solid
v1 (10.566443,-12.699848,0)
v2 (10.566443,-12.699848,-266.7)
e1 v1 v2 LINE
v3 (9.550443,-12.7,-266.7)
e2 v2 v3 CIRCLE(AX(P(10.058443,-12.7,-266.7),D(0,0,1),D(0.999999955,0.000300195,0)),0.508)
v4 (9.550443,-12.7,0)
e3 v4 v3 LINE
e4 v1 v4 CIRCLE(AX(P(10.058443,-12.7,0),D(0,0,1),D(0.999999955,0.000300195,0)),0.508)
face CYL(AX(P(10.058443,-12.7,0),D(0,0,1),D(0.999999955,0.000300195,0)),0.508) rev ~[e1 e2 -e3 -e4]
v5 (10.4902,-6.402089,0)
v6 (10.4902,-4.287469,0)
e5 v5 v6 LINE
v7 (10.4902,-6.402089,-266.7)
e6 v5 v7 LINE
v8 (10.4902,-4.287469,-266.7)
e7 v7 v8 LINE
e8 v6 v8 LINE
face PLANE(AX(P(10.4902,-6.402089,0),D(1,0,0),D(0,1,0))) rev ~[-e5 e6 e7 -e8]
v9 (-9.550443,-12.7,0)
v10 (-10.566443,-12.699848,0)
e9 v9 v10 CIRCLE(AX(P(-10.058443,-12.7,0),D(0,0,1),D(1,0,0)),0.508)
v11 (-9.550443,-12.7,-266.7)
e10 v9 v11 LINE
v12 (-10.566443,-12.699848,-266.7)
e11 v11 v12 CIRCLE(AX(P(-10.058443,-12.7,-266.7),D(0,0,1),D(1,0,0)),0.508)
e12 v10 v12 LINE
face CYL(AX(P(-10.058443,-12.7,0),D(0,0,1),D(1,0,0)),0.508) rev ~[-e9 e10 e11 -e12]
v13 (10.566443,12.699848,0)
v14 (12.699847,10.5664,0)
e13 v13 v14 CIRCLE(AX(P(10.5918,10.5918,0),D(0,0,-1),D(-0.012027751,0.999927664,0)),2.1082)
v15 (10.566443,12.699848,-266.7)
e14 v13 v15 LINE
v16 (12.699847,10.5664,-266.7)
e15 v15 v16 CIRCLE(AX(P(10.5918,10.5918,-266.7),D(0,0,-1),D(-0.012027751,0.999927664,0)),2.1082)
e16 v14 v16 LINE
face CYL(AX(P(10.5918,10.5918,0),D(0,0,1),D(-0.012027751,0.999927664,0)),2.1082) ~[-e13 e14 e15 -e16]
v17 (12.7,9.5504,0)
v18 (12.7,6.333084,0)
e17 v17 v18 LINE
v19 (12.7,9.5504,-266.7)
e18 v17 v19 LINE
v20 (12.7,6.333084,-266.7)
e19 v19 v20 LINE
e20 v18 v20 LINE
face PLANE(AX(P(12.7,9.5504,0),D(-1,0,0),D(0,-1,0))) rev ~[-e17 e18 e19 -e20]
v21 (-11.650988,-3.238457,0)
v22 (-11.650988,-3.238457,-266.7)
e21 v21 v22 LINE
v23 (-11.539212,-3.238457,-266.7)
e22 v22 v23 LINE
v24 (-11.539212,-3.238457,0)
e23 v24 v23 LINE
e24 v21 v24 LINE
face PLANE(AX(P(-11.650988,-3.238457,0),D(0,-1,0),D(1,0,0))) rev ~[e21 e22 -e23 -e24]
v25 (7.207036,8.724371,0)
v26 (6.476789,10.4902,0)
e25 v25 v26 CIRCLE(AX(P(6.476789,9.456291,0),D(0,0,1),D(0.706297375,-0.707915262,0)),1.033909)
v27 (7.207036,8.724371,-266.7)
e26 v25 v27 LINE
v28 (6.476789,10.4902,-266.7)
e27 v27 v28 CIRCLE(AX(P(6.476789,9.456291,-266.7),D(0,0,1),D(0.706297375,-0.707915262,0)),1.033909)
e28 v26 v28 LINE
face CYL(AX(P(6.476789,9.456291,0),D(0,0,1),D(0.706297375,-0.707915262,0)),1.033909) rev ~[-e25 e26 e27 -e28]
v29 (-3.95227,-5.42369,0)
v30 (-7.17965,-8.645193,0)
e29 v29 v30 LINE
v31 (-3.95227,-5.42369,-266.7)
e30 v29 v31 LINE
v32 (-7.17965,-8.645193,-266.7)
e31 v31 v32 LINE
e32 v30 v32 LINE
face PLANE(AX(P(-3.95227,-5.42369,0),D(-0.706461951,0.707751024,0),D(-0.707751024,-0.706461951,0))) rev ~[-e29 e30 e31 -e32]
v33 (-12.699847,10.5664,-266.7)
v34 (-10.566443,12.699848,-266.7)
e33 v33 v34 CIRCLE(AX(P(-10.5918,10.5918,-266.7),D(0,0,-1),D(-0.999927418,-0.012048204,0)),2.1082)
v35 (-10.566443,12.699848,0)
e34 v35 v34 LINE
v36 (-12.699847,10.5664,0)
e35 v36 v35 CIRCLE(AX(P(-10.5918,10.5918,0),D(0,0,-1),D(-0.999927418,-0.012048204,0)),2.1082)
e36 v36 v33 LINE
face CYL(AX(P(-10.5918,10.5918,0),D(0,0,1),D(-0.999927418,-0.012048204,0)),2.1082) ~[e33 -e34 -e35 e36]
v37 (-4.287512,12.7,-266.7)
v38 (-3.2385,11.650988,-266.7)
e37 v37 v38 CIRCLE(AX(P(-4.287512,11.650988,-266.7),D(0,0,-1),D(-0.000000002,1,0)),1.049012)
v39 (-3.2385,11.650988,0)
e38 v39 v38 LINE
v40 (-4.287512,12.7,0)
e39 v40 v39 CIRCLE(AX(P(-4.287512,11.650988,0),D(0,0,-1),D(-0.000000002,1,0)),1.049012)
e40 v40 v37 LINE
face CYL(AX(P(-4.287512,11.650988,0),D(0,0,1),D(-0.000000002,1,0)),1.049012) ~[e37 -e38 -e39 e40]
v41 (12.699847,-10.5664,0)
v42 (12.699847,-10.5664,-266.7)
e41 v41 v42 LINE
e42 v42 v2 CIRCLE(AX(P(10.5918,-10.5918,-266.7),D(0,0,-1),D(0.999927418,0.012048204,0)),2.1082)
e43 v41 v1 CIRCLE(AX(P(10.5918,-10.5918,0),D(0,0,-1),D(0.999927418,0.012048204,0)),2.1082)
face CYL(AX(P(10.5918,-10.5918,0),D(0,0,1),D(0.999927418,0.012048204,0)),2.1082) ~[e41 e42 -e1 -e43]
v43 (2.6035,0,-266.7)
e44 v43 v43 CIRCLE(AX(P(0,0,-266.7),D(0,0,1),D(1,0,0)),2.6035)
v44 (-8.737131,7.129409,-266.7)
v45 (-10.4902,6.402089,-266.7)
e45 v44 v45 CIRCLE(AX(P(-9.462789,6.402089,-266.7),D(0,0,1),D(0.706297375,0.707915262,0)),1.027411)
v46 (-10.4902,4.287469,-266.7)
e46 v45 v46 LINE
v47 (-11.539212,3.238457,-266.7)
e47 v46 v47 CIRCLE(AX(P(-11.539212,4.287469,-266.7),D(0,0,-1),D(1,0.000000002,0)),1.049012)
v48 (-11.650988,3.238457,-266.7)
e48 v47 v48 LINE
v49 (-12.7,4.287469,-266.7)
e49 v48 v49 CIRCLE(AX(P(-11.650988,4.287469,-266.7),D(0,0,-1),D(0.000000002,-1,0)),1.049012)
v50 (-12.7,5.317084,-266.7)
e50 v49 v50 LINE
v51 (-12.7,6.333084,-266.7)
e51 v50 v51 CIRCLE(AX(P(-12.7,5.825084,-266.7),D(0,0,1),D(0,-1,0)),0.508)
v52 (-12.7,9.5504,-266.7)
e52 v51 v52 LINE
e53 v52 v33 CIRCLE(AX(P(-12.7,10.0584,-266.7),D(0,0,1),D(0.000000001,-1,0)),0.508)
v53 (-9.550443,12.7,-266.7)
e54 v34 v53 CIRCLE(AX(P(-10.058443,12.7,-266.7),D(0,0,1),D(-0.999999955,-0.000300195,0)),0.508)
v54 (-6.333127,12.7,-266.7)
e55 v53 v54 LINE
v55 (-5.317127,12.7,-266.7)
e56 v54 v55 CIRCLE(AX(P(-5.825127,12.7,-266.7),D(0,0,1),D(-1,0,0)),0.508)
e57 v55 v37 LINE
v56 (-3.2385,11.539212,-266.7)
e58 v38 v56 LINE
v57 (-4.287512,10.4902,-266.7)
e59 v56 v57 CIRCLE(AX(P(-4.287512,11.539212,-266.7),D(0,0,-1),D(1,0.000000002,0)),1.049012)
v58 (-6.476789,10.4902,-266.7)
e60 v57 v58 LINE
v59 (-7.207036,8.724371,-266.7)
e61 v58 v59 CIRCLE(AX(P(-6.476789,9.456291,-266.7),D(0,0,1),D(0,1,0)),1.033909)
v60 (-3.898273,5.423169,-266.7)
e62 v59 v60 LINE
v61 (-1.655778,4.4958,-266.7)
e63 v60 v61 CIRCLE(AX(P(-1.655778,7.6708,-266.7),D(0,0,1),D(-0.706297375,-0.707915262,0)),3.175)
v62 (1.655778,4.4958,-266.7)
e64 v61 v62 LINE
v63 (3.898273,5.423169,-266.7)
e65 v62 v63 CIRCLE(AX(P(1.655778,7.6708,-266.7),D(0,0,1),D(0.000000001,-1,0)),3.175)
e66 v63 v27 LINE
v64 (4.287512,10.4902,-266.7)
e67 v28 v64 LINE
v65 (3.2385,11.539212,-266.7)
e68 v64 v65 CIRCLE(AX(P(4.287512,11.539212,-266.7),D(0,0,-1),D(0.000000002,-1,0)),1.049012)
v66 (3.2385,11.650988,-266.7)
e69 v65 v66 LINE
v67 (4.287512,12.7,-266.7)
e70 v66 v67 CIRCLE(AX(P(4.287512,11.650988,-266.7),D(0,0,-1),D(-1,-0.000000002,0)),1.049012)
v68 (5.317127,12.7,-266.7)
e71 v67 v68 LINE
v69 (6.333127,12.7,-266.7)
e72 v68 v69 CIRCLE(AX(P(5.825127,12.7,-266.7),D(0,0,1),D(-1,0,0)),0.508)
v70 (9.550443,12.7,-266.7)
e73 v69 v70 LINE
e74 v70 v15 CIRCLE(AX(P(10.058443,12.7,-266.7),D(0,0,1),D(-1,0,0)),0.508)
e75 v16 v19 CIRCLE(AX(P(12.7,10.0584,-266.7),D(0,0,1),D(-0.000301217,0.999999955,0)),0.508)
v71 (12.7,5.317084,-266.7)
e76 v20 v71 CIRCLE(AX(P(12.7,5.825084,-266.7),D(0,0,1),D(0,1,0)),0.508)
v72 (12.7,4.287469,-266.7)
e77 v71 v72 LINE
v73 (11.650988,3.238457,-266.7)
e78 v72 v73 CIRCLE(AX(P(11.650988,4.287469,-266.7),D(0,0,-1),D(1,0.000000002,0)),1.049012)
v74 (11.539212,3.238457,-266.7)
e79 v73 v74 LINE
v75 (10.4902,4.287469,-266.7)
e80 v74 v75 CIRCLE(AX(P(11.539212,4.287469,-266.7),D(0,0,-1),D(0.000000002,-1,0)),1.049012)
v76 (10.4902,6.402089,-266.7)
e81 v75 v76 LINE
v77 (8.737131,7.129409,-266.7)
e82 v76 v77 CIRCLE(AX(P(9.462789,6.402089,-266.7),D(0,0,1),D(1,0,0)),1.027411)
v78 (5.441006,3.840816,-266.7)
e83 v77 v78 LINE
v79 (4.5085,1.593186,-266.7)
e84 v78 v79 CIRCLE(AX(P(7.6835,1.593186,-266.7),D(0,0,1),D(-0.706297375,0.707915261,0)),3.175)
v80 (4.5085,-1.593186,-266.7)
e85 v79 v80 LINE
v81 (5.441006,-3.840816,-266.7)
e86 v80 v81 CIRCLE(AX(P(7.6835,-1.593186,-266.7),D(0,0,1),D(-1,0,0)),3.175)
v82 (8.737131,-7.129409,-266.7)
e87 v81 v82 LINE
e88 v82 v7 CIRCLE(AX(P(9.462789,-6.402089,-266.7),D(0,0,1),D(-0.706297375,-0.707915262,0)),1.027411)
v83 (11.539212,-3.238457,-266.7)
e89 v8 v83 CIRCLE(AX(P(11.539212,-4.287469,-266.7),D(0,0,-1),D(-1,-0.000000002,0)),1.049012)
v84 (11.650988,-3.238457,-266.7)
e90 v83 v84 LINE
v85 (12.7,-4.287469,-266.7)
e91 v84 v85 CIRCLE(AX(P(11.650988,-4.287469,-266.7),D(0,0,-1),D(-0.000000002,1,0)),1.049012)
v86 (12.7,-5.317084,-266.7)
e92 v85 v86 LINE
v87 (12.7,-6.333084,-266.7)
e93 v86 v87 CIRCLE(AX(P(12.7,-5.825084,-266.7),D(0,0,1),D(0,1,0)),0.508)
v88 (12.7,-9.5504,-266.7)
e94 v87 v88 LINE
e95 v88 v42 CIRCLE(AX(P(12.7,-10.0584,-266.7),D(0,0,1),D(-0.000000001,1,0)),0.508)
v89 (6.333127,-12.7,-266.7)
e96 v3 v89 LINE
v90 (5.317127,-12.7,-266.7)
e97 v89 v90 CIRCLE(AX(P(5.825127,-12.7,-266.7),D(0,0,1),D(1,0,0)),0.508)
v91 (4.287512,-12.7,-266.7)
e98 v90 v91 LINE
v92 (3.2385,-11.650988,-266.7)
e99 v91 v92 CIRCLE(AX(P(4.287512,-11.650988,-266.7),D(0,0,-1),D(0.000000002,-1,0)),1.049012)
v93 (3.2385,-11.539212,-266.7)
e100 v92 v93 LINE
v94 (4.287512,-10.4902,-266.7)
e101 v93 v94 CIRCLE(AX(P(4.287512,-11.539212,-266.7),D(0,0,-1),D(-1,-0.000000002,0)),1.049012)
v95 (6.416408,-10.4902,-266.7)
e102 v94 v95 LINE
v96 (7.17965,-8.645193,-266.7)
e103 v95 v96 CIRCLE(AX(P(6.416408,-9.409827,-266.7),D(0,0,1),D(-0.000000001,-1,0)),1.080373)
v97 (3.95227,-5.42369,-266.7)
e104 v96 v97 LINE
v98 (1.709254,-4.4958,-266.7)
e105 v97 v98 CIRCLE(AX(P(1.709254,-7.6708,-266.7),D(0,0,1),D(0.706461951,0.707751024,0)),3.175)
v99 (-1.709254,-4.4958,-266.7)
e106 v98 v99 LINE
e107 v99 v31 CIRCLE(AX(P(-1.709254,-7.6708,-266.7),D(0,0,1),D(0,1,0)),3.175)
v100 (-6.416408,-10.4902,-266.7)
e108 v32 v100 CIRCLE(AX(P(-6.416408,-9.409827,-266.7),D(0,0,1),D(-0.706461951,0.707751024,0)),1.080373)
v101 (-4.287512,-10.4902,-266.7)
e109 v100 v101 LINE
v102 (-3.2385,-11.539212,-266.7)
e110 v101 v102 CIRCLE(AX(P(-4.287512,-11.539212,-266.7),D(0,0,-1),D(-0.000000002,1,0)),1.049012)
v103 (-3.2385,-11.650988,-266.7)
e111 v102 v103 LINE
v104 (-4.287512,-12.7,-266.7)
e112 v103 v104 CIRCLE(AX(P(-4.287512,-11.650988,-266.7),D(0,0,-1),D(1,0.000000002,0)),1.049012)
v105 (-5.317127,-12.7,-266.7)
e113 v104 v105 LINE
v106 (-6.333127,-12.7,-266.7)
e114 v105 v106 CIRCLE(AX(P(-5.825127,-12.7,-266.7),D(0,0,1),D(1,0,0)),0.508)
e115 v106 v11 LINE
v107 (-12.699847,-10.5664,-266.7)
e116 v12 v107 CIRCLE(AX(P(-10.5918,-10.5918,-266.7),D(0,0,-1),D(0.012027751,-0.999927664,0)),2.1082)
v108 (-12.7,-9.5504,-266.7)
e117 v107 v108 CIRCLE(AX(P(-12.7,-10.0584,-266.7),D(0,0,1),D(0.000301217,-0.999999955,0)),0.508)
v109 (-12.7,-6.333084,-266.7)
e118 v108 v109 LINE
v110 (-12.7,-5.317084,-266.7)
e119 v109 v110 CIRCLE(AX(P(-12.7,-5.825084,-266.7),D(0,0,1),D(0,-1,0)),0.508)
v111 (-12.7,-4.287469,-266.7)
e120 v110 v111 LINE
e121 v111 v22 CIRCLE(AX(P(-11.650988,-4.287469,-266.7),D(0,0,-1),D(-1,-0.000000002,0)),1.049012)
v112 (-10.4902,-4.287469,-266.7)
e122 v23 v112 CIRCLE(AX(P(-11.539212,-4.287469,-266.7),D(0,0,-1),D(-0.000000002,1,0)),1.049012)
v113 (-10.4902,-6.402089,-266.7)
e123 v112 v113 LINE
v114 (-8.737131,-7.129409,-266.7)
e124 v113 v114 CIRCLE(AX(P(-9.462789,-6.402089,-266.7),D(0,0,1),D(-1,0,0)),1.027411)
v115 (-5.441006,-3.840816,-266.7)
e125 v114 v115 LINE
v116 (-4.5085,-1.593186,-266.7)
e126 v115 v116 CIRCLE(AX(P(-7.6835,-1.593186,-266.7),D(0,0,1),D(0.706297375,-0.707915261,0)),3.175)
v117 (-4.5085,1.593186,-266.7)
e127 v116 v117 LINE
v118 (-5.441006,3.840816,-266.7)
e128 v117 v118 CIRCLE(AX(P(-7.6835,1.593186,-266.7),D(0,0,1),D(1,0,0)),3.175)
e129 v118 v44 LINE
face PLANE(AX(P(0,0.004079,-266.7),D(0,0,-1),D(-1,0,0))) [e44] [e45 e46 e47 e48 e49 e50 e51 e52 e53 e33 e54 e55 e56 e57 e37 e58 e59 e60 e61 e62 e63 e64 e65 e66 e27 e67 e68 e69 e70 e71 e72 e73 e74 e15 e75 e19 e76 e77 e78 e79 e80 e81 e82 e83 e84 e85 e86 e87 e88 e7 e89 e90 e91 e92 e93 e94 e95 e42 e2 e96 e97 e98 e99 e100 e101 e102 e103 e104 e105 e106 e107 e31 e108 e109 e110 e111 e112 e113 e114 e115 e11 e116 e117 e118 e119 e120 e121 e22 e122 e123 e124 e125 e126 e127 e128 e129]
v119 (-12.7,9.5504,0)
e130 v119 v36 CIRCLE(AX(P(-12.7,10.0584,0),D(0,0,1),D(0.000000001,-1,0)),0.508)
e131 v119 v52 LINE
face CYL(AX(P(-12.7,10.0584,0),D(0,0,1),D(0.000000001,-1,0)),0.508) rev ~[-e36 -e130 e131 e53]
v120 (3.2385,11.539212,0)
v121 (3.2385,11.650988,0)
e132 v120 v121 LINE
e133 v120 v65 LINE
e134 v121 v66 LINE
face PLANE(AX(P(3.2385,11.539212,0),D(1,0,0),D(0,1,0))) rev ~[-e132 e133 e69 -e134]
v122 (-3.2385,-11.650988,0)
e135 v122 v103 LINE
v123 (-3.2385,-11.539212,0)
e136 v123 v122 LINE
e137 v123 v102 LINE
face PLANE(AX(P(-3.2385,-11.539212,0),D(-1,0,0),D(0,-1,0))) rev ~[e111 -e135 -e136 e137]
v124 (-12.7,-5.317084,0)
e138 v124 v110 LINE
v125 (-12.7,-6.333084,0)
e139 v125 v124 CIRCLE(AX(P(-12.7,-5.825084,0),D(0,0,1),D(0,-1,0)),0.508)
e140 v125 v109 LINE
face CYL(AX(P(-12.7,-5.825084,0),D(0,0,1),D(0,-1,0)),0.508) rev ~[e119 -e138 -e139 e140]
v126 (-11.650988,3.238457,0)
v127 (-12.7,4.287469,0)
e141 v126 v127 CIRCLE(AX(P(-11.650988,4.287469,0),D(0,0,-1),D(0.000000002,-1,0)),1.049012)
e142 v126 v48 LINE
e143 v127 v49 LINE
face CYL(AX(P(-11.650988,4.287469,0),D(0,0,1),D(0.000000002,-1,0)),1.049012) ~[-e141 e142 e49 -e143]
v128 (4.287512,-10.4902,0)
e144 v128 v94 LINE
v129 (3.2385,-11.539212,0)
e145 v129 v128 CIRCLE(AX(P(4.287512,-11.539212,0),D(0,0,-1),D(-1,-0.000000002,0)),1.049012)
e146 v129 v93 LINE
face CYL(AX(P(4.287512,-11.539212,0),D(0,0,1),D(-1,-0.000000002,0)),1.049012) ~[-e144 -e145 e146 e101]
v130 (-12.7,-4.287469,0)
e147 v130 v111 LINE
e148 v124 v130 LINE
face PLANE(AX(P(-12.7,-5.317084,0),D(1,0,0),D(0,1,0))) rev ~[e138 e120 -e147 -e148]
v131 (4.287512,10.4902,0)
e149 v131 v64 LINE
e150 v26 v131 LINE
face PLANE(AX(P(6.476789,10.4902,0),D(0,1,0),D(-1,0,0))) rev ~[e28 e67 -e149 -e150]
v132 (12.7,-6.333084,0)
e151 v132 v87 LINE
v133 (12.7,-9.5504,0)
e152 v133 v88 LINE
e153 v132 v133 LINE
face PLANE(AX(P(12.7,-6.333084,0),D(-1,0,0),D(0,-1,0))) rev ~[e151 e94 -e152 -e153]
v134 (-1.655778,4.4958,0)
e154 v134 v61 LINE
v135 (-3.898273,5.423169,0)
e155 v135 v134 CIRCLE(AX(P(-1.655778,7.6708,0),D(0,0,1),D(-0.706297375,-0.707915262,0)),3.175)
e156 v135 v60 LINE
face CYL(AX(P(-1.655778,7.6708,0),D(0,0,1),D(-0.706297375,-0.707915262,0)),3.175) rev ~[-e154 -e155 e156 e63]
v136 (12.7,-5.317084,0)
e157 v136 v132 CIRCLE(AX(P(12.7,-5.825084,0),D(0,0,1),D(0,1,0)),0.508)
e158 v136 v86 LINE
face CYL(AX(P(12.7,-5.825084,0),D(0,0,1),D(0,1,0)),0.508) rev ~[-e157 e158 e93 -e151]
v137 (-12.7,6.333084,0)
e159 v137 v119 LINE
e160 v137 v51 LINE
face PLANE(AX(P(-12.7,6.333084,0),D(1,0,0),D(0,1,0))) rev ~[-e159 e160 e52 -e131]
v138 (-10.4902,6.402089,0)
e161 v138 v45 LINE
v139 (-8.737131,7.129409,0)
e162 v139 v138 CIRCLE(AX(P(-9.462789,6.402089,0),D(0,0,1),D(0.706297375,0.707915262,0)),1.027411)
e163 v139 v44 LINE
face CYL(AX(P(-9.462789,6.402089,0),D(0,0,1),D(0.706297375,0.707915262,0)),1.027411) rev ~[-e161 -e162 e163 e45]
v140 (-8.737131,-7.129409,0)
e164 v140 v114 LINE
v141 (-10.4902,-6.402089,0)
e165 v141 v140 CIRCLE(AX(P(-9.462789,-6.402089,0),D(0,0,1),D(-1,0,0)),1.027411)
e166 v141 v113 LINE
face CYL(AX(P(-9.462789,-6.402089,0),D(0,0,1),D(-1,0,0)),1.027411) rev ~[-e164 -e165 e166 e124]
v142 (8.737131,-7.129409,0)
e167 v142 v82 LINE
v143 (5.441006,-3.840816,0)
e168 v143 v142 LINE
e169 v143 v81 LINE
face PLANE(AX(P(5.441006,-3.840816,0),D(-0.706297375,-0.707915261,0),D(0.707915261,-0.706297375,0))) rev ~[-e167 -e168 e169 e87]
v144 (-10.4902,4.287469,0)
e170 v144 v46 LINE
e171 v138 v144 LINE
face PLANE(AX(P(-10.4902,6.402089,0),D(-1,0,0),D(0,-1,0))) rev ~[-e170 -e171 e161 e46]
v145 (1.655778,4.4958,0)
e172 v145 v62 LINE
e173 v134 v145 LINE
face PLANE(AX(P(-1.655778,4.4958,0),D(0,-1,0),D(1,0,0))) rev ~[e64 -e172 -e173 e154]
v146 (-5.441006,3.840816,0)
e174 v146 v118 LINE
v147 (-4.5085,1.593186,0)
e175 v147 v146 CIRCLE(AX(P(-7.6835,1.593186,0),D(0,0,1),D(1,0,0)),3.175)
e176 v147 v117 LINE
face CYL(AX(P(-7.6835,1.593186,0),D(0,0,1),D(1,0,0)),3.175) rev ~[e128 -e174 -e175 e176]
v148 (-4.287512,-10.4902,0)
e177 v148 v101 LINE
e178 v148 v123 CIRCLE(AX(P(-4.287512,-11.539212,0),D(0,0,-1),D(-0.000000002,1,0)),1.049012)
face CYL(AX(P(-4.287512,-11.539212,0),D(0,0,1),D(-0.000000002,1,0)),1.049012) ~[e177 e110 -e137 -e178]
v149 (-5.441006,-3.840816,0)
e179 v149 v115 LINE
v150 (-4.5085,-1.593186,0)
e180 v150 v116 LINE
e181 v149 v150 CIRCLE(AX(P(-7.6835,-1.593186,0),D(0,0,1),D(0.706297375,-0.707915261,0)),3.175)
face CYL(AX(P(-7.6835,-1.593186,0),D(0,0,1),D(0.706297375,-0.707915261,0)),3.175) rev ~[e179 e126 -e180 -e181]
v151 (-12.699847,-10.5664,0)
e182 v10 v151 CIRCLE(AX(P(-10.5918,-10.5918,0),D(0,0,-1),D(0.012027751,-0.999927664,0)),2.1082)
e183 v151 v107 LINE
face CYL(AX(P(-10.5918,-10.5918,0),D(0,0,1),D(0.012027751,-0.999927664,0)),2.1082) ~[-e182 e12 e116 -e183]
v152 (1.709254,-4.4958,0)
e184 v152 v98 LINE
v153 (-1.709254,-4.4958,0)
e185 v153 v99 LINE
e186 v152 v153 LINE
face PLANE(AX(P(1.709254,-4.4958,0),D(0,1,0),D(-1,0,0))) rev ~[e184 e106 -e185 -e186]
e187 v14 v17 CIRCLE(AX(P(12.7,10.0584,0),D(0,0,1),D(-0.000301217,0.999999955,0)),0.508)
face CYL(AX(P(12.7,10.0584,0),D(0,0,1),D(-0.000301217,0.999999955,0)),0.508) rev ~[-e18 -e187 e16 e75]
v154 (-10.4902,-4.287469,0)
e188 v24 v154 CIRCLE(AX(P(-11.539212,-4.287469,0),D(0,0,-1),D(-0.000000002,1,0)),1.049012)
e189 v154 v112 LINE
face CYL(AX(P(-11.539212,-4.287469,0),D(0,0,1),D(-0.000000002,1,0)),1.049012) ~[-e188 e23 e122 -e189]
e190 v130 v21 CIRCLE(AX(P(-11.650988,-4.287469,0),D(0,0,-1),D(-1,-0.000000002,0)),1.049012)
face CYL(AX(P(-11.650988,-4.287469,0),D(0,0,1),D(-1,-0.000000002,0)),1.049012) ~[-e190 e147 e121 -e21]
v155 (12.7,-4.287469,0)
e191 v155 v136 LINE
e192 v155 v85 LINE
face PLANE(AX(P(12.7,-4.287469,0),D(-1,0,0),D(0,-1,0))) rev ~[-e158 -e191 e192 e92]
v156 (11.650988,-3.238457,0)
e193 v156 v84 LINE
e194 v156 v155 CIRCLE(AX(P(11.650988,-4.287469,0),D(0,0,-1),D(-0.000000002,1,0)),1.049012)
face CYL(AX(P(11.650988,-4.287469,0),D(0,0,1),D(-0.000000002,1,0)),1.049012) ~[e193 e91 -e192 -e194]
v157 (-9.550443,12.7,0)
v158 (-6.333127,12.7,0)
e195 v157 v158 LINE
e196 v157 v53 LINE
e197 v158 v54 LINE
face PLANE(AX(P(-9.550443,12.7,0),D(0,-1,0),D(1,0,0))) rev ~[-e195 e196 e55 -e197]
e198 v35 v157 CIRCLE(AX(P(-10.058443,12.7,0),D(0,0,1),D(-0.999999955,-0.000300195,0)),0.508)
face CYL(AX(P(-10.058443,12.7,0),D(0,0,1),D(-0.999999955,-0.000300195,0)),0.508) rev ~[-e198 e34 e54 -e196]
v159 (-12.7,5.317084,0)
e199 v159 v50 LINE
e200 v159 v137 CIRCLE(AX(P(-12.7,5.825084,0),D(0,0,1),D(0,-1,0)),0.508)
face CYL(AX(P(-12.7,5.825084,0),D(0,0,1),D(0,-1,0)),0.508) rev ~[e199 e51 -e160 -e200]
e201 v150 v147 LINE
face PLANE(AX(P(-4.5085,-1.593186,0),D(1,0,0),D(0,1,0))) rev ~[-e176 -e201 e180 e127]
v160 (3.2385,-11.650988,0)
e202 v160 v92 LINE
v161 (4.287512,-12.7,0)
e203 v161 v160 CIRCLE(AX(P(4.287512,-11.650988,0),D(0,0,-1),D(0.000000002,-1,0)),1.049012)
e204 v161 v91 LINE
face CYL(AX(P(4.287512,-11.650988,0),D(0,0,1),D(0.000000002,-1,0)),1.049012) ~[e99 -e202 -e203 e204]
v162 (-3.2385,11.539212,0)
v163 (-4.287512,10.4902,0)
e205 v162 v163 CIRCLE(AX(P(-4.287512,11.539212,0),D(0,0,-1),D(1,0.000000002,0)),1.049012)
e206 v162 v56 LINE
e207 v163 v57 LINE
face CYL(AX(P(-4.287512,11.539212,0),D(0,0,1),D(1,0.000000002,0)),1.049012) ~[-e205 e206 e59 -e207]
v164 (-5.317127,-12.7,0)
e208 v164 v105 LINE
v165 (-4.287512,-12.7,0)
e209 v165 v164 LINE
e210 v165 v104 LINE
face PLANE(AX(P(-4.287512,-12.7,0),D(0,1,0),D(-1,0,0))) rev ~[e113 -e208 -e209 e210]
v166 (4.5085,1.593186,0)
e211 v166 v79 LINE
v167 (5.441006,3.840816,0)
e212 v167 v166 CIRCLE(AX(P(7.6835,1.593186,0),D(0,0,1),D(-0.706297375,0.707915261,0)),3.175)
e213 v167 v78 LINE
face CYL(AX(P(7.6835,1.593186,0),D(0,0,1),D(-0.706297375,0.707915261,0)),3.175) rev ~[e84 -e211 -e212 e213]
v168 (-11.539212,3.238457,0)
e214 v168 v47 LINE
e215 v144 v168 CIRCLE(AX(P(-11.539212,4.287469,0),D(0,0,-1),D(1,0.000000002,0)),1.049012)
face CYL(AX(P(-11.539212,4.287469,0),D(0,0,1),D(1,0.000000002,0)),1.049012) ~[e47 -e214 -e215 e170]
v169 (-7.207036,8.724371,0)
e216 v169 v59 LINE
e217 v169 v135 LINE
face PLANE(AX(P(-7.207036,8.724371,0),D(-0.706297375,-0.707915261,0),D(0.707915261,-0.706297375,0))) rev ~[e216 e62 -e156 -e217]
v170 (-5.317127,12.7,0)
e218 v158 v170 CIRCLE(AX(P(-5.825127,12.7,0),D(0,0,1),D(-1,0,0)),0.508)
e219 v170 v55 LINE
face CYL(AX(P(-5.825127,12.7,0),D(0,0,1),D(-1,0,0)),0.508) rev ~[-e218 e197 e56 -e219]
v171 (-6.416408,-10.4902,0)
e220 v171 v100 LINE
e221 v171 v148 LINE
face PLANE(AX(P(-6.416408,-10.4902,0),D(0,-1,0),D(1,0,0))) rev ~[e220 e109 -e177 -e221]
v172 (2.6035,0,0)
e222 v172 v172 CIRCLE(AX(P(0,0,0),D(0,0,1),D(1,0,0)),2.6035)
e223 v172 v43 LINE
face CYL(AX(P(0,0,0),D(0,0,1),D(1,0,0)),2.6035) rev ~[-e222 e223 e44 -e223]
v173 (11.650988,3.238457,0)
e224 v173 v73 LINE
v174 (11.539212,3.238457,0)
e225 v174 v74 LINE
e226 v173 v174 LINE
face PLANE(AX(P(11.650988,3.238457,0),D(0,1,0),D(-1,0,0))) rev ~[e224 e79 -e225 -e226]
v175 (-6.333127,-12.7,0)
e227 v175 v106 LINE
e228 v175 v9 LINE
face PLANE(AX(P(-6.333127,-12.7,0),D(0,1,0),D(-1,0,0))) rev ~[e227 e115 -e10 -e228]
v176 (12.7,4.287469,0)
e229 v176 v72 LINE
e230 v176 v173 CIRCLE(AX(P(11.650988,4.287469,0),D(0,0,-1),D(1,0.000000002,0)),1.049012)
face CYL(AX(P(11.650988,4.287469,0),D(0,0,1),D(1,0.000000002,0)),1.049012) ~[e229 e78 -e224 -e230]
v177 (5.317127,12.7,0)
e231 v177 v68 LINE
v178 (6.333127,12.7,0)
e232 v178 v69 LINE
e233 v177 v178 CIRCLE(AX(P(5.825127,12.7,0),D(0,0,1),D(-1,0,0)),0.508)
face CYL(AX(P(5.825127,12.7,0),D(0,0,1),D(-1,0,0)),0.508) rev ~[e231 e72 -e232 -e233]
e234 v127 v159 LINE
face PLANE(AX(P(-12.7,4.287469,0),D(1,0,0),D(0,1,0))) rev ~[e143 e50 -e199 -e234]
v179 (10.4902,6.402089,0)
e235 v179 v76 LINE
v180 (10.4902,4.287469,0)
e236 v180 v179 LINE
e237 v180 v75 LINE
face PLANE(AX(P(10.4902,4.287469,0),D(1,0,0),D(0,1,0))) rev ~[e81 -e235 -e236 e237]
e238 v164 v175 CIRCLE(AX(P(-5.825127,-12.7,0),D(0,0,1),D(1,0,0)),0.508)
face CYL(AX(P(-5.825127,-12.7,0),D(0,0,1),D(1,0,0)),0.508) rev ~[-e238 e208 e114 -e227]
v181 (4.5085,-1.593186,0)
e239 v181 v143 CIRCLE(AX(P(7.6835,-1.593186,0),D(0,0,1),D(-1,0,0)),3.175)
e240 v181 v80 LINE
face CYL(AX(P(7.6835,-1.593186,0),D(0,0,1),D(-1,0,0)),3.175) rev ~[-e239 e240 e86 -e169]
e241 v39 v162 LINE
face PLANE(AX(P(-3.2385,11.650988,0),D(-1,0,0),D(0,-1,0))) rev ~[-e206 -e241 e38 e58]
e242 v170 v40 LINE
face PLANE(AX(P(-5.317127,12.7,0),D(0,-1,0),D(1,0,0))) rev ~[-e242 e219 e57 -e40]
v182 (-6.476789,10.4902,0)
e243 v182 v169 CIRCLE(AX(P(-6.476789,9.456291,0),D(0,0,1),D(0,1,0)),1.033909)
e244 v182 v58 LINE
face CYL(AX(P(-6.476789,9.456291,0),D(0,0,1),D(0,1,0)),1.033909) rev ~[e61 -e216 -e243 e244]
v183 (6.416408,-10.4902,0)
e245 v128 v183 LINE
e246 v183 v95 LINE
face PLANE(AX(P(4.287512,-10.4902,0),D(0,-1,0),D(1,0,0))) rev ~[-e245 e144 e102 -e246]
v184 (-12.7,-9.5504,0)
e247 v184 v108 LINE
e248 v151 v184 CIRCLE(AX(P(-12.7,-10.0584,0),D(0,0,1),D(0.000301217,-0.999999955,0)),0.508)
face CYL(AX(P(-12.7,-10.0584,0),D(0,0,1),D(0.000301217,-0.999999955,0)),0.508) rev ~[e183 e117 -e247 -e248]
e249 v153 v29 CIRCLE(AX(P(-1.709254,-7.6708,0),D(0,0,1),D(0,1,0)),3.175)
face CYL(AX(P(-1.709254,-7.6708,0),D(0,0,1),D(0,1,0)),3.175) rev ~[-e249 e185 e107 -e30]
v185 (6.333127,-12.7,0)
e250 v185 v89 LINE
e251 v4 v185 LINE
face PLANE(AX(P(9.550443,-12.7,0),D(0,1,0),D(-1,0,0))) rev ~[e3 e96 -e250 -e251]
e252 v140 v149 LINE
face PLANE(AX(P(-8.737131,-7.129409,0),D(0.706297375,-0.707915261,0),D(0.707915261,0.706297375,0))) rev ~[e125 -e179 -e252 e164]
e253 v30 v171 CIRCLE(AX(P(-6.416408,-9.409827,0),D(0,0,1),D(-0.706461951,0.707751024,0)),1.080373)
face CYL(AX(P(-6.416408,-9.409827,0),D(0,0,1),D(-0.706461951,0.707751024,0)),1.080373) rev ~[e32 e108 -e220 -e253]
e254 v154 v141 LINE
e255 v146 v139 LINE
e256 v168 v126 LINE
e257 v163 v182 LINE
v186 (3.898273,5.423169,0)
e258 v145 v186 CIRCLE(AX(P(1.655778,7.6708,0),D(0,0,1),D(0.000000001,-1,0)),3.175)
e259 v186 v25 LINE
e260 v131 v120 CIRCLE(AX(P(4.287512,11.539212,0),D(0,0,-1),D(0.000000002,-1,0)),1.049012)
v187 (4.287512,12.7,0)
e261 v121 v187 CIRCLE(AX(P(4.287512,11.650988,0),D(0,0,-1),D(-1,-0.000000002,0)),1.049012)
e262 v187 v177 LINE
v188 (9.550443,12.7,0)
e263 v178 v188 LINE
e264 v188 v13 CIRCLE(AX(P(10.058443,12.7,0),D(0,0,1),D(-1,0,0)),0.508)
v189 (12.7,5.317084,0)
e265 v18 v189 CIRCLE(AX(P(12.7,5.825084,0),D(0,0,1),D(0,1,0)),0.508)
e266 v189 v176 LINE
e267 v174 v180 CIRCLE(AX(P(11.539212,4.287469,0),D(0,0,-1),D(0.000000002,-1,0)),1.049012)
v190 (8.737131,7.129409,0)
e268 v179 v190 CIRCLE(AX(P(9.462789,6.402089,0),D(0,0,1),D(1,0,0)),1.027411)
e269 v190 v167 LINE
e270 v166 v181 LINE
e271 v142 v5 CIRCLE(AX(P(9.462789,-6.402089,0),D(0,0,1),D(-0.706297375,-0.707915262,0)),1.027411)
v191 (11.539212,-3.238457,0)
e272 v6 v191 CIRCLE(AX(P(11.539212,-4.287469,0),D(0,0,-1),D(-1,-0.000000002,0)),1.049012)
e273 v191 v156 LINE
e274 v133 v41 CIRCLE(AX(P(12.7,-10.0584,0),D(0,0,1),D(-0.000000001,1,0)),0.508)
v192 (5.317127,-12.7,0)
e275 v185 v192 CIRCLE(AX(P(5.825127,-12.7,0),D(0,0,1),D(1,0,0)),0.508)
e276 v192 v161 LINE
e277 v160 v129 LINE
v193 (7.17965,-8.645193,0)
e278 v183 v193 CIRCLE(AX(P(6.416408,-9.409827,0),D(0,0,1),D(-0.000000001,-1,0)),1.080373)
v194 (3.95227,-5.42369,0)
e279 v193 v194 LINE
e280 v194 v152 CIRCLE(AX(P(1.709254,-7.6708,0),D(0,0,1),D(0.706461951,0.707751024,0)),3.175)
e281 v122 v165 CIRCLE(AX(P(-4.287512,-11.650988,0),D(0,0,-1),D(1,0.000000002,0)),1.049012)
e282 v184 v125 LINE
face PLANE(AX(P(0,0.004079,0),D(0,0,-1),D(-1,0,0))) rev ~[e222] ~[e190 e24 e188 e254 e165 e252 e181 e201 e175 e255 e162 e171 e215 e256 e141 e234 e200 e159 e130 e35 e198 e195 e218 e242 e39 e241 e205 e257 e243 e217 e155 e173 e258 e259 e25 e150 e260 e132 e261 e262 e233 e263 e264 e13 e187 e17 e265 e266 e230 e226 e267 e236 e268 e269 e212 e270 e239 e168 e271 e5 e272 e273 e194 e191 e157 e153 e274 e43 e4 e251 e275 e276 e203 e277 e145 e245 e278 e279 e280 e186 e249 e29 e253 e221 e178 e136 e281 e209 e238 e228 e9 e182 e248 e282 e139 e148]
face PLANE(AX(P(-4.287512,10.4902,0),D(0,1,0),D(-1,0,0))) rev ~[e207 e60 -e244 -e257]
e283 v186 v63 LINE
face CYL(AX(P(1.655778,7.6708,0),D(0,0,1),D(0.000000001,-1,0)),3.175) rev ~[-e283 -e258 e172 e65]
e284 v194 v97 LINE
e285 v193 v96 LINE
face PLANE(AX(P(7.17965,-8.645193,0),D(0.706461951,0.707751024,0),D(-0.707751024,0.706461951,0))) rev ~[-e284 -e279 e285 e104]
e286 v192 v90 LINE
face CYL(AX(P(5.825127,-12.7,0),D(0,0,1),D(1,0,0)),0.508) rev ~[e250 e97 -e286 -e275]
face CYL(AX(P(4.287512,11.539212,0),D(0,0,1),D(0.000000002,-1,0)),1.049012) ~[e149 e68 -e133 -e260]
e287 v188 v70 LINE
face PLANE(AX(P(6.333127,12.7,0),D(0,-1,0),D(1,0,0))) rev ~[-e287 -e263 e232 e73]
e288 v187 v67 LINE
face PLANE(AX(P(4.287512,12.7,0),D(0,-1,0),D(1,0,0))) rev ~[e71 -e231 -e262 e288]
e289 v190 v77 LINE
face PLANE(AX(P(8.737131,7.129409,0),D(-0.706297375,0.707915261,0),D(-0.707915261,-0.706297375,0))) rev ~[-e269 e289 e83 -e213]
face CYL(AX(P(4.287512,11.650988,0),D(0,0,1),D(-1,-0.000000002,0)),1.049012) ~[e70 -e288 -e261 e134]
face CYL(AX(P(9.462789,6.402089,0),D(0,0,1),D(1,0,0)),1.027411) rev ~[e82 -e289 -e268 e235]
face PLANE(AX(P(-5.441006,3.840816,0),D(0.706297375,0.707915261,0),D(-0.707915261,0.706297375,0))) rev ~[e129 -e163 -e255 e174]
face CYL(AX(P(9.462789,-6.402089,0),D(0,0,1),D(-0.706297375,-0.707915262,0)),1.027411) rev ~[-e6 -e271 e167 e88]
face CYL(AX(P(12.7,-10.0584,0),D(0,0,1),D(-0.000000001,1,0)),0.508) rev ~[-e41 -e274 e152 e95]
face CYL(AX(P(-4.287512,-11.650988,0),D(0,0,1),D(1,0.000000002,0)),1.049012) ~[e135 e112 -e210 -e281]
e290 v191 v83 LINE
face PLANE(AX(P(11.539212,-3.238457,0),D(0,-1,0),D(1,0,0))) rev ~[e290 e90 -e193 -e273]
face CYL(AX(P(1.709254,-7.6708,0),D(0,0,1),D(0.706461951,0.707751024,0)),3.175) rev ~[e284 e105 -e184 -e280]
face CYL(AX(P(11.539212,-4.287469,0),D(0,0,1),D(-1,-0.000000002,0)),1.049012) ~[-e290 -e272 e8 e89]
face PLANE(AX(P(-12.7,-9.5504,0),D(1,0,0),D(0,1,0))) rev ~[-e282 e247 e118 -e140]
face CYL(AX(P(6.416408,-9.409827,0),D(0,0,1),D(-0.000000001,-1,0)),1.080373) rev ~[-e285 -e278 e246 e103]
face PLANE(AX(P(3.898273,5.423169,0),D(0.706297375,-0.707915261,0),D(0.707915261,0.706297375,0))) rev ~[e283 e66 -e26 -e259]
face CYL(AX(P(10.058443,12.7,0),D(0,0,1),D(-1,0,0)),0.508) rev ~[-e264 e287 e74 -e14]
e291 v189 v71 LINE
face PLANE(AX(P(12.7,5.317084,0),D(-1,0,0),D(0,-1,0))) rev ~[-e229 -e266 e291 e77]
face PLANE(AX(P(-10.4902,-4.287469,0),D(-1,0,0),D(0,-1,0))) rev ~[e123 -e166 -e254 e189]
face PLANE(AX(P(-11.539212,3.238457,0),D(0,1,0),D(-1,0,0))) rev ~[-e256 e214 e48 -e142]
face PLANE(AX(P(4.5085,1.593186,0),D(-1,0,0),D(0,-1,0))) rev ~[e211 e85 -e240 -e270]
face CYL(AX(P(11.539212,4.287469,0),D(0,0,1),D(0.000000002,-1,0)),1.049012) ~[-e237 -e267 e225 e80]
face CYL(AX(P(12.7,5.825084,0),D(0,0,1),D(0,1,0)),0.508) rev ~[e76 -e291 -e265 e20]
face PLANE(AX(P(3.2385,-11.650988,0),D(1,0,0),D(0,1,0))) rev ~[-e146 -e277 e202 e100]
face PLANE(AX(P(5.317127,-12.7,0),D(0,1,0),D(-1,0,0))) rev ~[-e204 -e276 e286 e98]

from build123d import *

# Parameters (mm, degrees)
SKETCH1_R      = 2.6035
EXTRUDE1_DEPTH = 266.7


with BuildPart() as part:
    # Sketch1 → Extrude1 (new body)
    with BuildSketch(Plane.XY):
        with BuildLine():
            Line((-7.207036008, 8.724370562), (-3.898272566, 5.423169045))
            ThreePointArc((-3.898272566, 5.423169045), (-2.869120213, 4.736787962), (-1.655778399, 4.4958))
            Line((-1.655778399, 4.4958), (1.655778399, 4.4958))
            ThreePointArc((1.655778399, 4.4958), (2.869120213, 4.736787962), (3.898272566, 5.423169045))
            Line((3.898272566, 5.423169045), (7.207036008, 8.724370562))
            ThreePointArc((7.207036008, 8.724370562), (7.432222385, 9.85140422), (6.476788598, 10.4902))
            Line((6.476788598, 10.4902), (4.287512407, 10.4902))
            ThreePointArc((4.287512407, 10.4902), (3.54574862, 10.79744862), (3.2385, 11.539212407))
            Line((3.2385, 11.539212407), (3.2385, 11.650987593))
            ThreePointArc((3.2385, 11.650987593), (3.54574862, 12.39275138), (4.287512407, 12.7))
            Line((4.287512407, 12.7), (5.317126718, 12.7))
            ThreePointArc((5.317126718, 12.7), (5.825126718, 12.192), (6.333126718, 12.7))
            Line((6.333126718, 12.7), (9.550443118, 12.7))
            ThreePointArc((9.550443118, 12.7), (10.058366869, 12.192000006), (10.566443095, 12.699847501))
            ThreePointArc((10.566443095, 12.699847501), (12.082537762, 12.08250727), (12.699846982, 10.566399977))
            ThreePointArc((12.699846982, 10.566399977), (12.192000006, 10.058323491), (12.7, 9.5504))
            Line((12.7, 9.5504), (12.7, 6.3330836))
            ThreePointArc((12.7, 6.3330836), (12.192, 5.8250836), (12.7, 5.3170836))
            Line((12.7, 5.3170836), (12.7, 4.287469289))
            ThreePointArc((12.7, 4.287469289), (12.39275138, 3.545705502), (11.650987593, 3.238456882))
            Line((11.650987593, 3.238456882), (11.539212407, 3.238456882))
            ThreePointArc((11.539212407, 3.238456882), (10.79744862, 3.545705502), (10.4902, 4.287469289))
            Line((10.4902, 4.287469289), (10.4902, 6.402089023))
            ThreePointArc((10.4902, 6.402089023), (9.856505071, 7.351067942), (8.737131347, 7.129408934))
            Line((8.737131347, 7.129408934), (5.441005833, 3.840816462))
            ThreePointArc((5.441005833, 3.840816462), (4.750877967, 2.809883091), (4.5085, 1.593185507))
            Line((4.5085, 1.593185507), (4.5085, -1.593185507))
            ThreePointArc((4.5085, -1.593185507), (4.750877967, -2.809883091), (5.441005833, -3.840816462))
            Line((5.441005833, -3.840816462), (8.737131347, -7.129408934))
            ThreePointArc((8.737131347, -7.129408934), (9.856505071, -7.351067942), (10.4902, -6.402089023))
            Line((10.4902, -6.402089023), (10.4902, -4.287469289))
            ThreePointArc((10.4902, -4.287469289), (10.79744862, -3.545705502), (11.539212407, -3.238456882))
            Line((11.539212407, -3.238456882), (11.650987593, -3.238456882))
            ThreePointArc((11.650987593, -3.238456882), (12.39275138, -3.545705502), (12.7, -4.287469289))
            Line((12.7, -4.287469289), (12.7, -5.3170836))
            ThreePointArc((12.7, -5.3170836), (12.192, -5.8250836), (12.7, -6.3330836))
            Line((12.7, -6.3330836), (12.7, -9.5504))
            ThreePointArc((12.7, -9.5504), (12.192000006, -10.058323491), (12.699846982, -10.566399977))
            ThreePointArc((12.699846982, -10.566399977), (12.082537762, -12.08250727), (10.566443095, -12.699847501))
            ThreePointArc((10.566443095, -12.699847501), (10.058366869, -12.192000006), (9.550443118, -12.7))
            Line((9.550443118, -12.7), (6.333126718, -12.7))
            ThreePointArc((6.333126718, -12.7), (5.825126718, -12.192), (5.317126718, -12.7))
            Line((5.317126718, -12.7), (4.287512407, -12.7))
            ThreePointArc((4.287512407, -12.7), (3.54574862, -12.39275138), (3.2385, -11.650987593))
            Line((3.2385, -11.650987593), (3.2385, -11.539212407))
            ThreePointArc((3.2385, -11.539212407), (3.54574862, -10.79744862), (4.287512407, -10.4902))
            Line((4.287512407, -10.4902), (6.416408329, -10.4902))
            ThreePointArc((6.416408329, -10.4902), (7.41473083, -9.822813117), (7.179650497, -8.645192506))
            Line((7.179650497, -8.645192506), (3.952270251, -5.423690499))
            ThreePointArc((3.952270251, -5.423690499), (2.922936451, -4.736929036), (1.709253557, -4.4958))
            Line((1.709253557, -4.4958), (-1.709253557, -4.4958))
            ThreePointArc((-1.709253557, -4.4958), (-2.922936451, -4.736929036), (-3.952270251, -5.423690499))
            Line((-3.952270251, -5.423690499), (-7.179650497, -8.645192506))
            ThreePointArc((-7.179650497, -8.645192506), (-7.41473083, -9.822813117), (-6.416408329, -10.4902))
            Line((-6.416408329, -10.4902), (-4.287512407, -10.4902))
            ThreePointArc((-4.287512407, -10.4902), (-3.54574862, -10.79744862), (-3.2385, -11.539212407))
            Line((-3.2385, -11.539212407), (-3.2385, -11.650987593))
            ThreePointArc((-3.2385, -11.650987593), (-3.54574862, -12.39275138), (-4.287512407, -12.7))
            Line((-4.287512407, -12.7), (-5.317126718, -12.7))
            ThreePointArc((-5.317126718, -12.7), (-5.825126718, -12.192), (-6.333126718, -12.7))
            Line((-6.333126718, -12.7), (-9.550443118, -12.7))
            ThreePointArc((-9.550443118, -12.7), (-10.058366869, -12.192000006), (-10.566443095, -12.699847501))
            ThreePointArc((-10.566443095, -12.699847501), (-12.082537762, -12.08250727), (-12.699846982, -10.566399977))
            ThreePointArc((-12.699846982, -10.566399977), (-12.192000006, -10.058323491), (-12.7, -9.5504))
            Line((-12.7, -9.5504), (-12.7, -6.3330836))
            ThreePointArc((-12.7, -6.3330836), (-12.192, -5.8250836), (-12.7, -5.3170836))
            Line((-12.7, -5.3170836), (-12.7, -4.287469289))
            ThreePointArc((-12.7, -4.287469289), (-12.39275138, -3.545705502), (-11.650987593, -3.238456882))
            Line((-11.650987593, -3.238456882), (-11.539212407, -3.238456882))
            ThreePointArc((-11.539212407, -3.238456882), (-10.79744862, -3.545705502), (-10.4902, -4.287469289))
            Line((-10.4902, -4.287469289), (-10.4902, -6.402089023))
            ThreePointArc((-10.4902, -6.402089023), (-9.856505071, -7.351067942), (-8.737131347, -7.129408934))
            Line((-8.737131347, -7.129408934), (-5.441005833, -3.840816462))
            ThreePointArc((-5.441005833, -3.840816462), (-4.750877967, -2.809883091), (-4.5085, -1.593185507))
            Line((-4.5085, -1.593185507), (-4.5085, 1.593185507))
            ThreePointArc((-4.5085, 1.593185507), (-4.750877967, 2.809883091), (-5.441005833, 3.840816462))
            Line((-5.441005833, 3.840816462), (-8.737131347, 7.129408934))
            ThreePointArc((-8.737131347, 7.129408934), (-9.856505071, 7.351067942), (-10.4902, 6.402089023))
            Line((-10.4902, 6.402089023), (-10.4902, 4.287469289))
            ThreePointArc((-10.4902, 4.287469289), (-10.79744862, 3.545705502), (-11.539212407, 3.238456882))
            Line((-11.539212407, 3.238456882), (-11.650987593, 3.238456882))
            ThreePointArc((-11.650987593, 3.238456882), (-12.39275138, 3.545705502), (-12.7, 4.287469289))
            Line((-12.7, 4.287469289), (-12.7, 5.3170836))
            ThreePointArc((-12.7, 5.3170836), (-12.192, 5.8250836), (-12.7, 6.3330836))
            Line((-12.7, 6.3330836), (-12.7, 9.5504))
            ThreePointArc((-12.7, 9.5504), (-12.192000006, 10.058323491), (-12.699846982, 10.566399977))
            ThreePointArc((-12.699846982, 10.566399977), (-12.082537762, 12.08250727), (-10.566443095, 12.699847501))
            ThreePointArc((-10.566443095, 12.699847501), (-10.058366869, 12.192000006), (-9.550443118, 12.7))
            Line((-9.550443118, 12.7), (-6.333126718, 12.7))
            ThreePointArc((-6.333126718, 12.7), (-5.825126718, 12.192), (-5.317126718, 12.7))
            Line((-5.317126718, 12.7), (-4.287512407, 12.7))
            ThreePointArc((-4.287512407, 12.7), (-3.54574862, 12.39275138), (-3.2385, 11.650987593))
            Line((-3.2385, 11.650987593), (-3.2385, 11.539212407))
            ThreePointArc((-3.2385, 11.539212407), (-3.54574862, 10.79744862), (-4.287512407, 10.4902))
            Line((-4.287512407, 10.4902), (-6.476788598, 10.4902))
            ThreePointArc((-6.476788598, 10.4902), (-7.432222385, 9.85140422), (-7.207036008, 8.724370562))
        make_face()
        Circle(SKETCH1_R, mode=Mode.SUBTRACT)
    extrude(amount=-EXTRUDE1_DEPTH)


solid = part.part
